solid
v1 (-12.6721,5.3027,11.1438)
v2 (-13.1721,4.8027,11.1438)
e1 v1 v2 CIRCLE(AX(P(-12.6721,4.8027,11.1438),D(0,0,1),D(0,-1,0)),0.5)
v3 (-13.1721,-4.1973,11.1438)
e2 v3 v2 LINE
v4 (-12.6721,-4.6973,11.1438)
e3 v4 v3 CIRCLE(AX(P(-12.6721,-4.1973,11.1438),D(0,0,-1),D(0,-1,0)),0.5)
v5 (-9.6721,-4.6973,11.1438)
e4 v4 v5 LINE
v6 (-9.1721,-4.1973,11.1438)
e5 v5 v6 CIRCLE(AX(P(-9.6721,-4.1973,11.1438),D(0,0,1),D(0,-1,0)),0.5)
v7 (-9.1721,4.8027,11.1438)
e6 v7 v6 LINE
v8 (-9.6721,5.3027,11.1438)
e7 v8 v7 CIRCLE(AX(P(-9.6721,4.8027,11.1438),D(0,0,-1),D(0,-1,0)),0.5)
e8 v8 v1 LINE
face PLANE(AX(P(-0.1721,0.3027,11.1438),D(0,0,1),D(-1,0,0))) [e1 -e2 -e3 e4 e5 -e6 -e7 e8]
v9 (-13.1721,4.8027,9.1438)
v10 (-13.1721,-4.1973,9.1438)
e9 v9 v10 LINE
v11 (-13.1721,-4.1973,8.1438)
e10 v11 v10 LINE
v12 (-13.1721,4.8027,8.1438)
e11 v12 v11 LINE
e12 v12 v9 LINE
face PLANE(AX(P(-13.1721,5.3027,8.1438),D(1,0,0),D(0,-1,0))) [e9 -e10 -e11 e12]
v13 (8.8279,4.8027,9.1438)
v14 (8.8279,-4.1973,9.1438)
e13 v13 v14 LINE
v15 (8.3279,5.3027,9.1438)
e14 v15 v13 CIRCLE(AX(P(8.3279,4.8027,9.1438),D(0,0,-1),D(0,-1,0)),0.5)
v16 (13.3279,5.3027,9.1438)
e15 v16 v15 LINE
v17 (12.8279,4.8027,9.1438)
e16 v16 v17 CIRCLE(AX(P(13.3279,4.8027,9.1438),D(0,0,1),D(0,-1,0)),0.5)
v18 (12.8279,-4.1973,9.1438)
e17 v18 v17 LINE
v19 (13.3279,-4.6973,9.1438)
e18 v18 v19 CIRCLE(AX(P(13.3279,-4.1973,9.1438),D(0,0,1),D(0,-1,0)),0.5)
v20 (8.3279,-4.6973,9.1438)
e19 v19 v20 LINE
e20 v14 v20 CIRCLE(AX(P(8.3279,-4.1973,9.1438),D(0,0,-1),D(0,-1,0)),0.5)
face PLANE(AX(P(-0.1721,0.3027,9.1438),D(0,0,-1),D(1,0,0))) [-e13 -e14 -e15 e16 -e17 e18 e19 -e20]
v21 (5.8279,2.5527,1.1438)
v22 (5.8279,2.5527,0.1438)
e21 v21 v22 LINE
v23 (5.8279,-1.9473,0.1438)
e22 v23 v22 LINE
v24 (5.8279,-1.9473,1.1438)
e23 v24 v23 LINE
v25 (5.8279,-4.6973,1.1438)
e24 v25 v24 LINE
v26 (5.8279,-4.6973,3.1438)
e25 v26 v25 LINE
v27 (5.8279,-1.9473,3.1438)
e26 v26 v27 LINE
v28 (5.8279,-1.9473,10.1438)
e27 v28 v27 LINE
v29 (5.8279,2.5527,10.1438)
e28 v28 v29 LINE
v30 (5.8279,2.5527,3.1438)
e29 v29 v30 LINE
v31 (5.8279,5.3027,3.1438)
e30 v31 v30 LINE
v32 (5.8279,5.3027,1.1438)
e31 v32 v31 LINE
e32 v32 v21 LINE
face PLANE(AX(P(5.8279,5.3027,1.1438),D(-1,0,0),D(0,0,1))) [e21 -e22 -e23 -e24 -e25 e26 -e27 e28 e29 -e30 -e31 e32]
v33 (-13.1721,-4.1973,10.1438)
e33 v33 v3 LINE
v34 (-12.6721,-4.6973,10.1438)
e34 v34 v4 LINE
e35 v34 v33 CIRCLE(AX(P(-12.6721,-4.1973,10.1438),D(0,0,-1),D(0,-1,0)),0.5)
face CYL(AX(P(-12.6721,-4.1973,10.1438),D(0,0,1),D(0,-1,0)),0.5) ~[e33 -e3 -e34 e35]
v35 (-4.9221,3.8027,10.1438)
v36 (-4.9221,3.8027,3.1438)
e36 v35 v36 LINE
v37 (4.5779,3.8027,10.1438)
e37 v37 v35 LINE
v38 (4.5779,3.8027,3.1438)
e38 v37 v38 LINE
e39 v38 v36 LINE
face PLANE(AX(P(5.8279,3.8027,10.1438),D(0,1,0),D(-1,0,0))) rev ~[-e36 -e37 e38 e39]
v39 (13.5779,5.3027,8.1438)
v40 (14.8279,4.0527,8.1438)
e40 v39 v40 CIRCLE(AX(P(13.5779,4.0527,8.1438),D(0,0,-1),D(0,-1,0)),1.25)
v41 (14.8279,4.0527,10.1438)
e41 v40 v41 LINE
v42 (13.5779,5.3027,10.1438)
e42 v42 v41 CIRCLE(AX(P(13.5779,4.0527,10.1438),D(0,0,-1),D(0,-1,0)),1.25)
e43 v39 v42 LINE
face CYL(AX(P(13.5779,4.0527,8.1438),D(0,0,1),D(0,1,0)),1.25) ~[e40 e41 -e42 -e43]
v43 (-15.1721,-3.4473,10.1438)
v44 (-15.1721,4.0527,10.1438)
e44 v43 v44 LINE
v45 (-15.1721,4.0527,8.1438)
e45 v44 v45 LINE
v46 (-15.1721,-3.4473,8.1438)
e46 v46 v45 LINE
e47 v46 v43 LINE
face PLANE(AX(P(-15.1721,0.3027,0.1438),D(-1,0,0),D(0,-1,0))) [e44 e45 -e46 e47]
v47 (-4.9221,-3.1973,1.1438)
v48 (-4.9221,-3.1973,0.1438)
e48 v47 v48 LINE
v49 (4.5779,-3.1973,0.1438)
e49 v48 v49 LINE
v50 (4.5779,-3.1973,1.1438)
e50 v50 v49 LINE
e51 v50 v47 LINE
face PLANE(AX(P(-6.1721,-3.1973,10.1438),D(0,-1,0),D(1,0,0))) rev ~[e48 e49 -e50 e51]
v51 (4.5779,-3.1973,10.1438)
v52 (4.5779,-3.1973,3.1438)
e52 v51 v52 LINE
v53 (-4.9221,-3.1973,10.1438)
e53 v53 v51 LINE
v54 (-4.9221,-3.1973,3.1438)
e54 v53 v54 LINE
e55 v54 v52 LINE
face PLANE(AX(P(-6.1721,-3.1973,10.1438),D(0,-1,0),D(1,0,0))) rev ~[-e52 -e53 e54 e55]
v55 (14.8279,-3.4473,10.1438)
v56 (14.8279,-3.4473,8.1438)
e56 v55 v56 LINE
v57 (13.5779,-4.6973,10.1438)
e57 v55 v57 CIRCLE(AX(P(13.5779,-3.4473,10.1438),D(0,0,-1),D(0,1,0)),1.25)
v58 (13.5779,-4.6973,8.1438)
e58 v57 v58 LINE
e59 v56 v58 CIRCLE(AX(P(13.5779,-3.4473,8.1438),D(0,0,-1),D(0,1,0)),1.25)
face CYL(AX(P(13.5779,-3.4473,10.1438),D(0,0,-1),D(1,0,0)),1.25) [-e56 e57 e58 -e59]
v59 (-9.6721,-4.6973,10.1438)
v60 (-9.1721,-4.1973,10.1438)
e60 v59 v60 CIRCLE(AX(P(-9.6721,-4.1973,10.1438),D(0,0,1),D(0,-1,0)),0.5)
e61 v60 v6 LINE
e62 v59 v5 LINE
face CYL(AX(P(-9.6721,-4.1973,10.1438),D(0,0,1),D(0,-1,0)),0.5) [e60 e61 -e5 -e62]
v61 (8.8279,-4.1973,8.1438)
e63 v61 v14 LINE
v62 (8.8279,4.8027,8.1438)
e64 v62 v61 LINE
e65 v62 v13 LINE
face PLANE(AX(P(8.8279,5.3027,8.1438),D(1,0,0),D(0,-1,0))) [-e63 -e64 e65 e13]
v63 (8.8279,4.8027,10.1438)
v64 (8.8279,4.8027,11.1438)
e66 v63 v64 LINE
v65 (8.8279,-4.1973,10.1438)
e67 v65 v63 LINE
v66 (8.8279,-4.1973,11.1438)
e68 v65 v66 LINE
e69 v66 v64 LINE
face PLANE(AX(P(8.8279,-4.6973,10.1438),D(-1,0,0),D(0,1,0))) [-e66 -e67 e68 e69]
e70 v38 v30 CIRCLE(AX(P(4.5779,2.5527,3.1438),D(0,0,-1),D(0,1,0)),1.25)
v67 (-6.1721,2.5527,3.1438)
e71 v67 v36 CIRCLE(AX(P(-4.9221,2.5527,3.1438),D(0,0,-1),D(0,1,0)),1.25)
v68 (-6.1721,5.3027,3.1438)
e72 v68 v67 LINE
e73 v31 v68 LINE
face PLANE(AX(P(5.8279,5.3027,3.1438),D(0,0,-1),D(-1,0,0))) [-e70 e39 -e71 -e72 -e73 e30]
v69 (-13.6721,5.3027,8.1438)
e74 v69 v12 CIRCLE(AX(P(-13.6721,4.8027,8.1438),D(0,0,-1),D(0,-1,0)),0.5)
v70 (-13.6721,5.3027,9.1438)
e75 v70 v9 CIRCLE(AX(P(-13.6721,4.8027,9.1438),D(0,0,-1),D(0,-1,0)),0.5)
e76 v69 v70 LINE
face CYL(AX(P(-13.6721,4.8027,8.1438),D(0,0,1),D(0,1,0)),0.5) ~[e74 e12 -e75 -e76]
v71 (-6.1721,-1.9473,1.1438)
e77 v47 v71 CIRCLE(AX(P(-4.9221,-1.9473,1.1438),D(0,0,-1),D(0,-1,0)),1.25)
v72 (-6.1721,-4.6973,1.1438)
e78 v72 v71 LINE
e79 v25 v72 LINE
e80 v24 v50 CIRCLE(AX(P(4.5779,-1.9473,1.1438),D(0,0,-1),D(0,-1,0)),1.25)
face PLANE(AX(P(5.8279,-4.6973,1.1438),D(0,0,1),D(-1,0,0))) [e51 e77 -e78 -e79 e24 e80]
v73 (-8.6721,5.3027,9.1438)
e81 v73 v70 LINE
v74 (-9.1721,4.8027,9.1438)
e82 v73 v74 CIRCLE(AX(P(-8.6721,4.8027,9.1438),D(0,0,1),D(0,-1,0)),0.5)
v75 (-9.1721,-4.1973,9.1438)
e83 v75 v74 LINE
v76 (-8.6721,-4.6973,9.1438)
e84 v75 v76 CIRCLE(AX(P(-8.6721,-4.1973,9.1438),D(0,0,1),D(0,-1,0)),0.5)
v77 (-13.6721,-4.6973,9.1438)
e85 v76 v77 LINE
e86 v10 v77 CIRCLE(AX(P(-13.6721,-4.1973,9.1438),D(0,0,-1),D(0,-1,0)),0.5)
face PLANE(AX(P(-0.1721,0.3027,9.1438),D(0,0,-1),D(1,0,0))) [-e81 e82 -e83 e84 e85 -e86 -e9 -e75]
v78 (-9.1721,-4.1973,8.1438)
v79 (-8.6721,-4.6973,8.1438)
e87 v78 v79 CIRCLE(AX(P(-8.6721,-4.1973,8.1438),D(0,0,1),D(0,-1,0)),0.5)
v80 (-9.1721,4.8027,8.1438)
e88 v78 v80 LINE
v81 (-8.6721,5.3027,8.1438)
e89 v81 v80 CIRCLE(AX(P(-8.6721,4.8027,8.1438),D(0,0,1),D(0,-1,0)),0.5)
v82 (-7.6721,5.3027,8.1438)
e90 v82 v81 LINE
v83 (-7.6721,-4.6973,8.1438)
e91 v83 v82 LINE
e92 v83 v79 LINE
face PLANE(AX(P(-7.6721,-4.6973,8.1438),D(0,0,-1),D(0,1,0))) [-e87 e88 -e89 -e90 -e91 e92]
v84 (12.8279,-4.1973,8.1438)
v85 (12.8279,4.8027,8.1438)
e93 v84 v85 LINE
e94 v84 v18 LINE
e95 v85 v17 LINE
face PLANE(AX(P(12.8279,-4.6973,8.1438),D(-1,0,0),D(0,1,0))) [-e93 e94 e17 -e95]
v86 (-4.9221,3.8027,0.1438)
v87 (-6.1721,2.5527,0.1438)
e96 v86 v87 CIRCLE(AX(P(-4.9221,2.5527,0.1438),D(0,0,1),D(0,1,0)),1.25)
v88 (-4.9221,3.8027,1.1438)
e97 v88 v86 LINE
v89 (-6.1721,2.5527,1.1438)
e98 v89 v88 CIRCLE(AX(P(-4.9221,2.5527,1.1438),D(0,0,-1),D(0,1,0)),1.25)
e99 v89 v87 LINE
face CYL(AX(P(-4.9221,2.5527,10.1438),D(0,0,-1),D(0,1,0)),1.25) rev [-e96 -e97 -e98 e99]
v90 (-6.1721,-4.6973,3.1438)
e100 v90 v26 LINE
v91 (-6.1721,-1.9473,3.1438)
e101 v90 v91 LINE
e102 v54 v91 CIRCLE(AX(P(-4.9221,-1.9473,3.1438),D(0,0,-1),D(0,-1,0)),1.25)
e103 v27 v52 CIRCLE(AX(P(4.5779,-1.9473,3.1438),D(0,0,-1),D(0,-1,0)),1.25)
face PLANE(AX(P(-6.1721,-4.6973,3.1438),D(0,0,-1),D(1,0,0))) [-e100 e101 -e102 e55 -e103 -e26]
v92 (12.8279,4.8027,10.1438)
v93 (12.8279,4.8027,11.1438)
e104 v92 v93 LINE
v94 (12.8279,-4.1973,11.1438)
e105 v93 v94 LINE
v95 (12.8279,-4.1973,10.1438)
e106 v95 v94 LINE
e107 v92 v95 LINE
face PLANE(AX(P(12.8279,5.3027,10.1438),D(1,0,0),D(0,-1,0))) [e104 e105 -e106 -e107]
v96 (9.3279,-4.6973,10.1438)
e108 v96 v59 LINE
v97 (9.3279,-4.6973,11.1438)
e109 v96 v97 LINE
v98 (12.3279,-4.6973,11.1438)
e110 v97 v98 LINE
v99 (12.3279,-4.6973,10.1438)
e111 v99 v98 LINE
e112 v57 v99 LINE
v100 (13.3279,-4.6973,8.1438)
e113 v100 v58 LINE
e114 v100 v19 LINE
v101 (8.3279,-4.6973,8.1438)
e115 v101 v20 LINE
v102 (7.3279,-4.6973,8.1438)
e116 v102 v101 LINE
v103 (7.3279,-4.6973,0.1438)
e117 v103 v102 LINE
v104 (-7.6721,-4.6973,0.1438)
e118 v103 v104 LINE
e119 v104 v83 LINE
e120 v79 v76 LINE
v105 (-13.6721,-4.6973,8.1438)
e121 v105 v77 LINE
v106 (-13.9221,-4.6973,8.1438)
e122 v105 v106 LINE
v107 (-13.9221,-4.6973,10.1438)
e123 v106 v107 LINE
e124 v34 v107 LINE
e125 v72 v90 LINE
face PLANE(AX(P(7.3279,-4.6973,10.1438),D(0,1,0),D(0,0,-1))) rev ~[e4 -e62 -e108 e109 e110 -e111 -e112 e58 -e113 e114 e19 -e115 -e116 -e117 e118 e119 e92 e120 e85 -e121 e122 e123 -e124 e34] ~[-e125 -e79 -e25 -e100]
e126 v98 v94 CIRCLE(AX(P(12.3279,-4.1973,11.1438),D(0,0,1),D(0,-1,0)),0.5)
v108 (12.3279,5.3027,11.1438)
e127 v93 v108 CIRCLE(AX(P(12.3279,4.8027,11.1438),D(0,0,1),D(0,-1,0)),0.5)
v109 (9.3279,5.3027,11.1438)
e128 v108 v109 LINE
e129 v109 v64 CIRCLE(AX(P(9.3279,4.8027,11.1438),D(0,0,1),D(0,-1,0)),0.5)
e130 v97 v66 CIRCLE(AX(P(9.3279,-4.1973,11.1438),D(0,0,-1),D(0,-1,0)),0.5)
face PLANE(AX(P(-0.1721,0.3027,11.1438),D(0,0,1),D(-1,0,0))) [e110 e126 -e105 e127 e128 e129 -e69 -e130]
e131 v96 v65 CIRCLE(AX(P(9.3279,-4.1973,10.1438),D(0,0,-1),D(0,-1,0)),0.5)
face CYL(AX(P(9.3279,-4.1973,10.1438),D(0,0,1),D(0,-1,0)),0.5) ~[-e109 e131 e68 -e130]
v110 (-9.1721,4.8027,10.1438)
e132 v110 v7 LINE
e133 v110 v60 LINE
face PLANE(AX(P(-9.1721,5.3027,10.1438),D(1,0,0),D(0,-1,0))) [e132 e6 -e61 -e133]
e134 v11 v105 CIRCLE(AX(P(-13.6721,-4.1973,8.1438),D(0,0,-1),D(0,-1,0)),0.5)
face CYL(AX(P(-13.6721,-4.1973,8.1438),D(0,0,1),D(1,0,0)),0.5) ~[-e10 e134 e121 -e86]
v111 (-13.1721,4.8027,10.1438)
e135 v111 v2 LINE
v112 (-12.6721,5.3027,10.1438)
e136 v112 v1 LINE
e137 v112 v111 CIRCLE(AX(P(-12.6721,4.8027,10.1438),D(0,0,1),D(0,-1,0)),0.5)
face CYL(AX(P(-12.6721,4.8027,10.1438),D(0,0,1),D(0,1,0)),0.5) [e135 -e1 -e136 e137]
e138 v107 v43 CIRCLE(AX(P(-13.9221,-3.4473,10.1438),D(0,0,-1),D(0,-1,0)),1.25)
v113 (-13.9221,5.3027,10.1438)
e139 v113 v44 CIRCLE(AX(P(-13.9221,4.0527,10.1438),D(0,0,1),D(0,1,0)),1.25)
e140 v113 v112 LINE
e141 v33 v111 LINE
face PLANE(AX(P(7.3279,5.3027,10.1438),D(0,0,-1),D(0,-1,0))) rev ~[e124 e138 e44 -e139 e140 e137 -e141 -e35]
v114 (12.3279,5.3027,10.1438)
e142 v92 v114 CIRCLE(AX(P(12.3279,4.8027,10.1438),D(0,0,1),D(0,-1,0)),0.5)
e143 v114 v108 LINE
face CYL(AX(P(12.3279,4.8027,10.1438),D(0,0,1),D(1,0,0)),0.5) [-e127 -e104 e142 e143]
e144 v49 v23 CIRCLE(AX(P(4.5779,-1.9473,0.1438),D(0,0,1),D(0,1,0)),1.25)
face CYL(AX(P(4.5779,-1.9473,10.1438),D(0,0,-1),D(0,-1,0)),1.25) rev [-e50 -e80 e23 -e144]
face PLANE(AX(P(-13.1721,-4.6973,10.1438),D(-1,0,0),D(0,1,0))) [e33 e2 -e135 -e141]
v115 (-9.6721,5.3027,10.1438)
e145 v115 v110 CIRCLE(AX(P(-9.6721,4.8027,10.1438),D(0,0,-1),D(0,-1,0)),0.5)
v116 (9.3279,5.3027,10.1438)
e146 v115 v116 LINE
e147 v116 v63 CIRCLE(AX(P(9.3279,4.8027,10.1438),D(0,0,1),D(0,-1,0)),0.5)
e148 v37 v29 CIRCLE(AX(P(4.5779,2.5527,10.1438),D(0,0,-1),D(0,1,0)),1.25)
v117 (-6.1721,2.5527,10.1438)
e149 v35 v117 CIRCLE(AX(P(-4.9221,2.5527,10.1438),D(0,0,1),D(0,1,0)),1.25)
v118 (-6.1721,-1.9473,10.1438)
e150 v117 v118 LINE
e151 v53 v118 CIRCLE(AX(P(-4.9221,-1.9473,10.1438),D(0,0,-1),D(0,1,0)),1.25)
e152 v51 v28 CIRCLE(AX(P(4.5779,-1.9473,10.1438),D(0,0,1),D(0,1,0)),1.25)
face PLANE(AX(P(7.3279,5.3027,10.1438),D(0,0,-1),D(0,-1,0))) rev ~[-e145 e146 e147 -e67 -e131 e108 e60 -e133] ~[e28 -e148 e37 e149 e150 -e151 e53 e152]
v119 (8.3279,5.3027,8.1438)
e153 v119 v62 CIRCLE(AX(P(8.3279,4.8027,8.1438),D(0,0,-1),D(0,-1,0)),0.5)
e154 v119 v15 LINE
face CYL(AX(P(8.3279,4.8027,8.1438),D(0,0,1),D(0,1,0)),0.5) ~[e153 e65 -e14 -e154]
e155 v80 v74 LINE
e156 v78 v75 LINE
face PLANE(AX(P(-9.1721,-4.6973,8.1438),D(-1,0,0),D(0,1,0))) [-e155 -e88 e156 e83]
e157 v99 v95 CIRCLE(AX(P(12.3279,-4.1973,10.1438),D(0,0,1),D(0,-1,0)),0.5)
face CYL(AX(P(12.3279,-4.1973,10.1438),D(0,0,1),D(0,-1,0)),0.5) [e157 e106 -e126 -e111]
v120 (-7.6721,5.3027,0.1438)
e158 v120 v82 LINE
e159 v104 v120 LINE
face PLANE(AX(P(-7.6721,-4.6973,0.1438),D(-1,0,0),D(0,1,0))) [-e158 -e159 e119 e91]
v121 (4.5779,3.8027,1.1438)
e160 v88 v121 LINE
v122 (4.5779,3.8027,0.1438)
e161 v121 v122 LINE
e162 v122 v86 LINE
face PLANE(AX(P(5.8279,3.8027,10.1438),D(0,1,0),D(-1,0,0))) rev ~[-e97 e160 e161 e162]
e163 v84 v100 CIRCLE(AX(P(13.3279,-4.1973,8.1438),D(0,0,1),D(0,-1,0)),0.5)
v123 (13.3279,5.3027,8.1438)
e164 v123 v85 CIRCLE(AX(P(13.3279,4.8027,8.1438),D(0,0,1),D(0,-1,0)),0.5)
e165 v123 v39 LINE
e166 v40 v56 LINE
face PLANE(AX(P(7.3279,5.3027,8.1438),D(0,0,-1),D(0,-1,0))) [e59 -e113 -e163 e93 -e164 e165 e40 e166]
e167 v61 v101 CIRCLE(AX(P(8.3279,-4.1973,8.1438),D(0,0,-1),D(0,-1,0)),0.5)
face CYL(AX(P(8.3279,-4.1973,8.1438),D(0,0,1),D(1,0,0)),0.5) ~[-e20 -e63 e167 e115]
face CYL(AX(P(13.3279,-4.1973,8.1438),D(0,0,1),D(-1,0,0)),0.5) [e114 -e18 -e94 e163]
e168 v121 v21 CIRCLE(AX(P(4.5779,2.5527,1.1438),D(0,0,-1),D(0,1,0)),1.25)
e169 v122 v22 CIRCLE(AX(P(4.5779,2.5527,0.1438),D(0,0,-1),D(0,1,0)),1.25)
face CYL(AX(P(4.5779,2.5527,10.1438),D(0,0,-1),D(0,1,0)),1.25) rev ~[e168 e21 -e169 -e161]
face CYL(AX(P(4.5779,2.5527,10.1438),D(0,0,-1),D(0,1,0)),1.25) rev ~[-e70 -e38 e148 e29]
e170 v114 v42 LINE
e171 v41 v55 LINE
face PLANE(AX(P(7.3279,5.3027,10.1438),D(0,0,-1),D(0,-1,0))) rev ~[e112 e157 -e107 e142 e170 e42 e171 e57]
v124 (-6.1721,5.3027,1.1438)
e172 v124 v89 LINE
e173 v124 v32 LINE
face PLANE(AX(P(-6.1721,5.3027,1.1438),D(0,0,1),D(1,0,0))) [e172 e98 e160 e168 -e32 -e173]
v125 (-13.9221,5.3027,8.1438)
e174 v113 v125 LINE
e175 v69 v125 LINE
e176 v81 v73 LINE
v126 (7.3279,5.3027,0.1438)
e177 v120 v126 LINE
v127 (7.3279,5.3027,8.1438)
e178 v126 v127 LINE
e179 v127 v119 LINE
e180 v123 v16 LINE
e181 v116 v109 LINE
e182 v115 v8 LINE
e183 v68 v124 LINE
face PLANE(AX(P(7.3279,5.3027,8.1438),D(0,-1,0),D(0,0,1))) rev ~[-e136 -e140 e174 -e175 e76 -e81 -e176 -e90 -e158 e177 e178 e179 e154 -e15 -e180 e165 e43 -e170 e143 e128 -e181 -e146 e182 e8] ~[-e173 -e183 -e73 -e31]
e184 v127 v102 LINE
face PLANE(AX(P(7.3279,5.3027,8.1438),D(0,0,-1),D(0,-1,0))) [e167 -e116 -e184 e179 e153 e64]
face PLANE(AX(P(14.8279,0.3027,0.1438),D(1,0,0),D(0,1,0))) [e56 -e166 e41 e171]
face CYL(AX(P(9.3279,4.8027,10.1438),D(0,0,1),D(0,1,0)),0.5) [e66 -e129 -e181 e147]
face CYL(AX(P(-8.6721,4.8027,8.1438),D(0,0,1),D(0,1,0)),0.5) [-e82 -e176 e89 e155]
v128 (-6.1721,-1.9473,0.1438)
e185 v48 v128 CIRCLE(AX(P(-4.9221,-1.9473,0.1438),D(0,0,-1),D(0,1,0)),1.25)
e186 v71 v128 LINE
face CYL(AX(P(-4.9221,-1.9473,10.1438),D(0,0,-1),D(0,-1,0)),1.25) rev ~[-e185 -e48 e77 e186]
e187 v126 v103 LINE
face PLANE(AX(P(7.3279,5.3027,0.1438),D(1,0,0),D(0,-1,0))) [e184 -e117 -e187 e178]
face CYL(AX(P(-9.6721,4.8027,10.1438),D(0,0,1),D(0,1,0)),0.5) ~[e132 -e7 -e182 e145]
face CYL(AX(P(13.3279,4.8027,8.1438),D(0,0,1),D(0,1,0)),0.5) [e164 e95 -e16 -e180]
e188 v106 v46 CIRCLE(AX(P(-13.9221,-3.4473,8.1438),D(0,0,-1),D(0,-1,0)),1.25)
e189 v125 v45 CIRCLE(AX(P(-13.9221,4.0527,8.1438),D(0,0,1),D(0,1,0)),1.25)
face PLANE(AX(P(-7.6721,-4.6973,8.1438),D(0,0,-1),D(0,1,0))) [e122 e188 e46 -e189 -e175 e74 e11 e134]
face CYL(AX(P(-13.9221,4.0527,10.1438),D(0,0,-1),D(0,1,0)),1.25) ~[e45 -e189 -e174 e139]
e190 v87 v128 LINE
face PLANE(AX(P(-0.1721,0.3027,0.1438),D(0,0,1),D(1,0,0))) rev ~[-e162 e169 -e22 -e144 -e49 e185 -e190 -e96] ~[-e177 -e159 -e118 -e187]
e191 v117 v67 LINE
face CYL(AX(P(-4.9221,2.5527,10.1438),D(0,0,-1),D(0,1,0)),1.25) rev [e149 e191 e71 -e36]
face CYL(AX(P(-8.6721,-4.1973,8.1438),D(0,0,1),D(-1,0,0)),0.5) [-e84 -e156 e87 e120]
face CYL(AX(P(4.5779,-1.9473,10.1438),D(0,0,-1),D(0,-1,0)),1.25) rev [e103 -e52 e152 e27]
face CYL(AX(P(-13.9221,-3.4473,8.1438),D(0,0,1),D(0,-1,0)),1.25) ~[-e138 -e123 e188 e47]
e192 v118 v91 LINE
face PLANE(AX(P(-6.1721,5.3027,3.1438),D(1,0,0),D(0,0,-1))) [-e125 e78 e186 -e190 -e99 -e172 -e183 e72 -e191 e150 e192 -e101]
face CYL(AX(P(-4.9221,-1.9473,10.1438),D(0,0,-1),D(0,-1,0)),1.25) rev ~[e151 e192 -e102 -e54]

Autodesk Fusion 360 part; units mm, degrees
sketch "Sketch1" plane through (0, 0, 0) normal (0, 0, 1) x (1, 0, 0) in component "Headpost"
  line L0 (7.5, -5) -> (-7.5, -5)
  line L1 (-7.5, -5) -> (-7.5, 5)
  line L2 (-7.5, 5) -> (7.5, 5)
  line L3 (7.5, 5) -> (7.5, -5)
  line L4 (7.5, -5) -> (-7.5, 5) construction
  line L5 (-7.5, -5) -> (7.5, 5) construction
  dimension "d1" = 15
  dimension "d2" = 10
extrude "Extrude1" add sketch "Sketch1" along normal blind 10 in component "Headpost"
sketch "Sketch2" plane through (0, 0, 10) normal (0, 0, 1) x (-1, 0, 0) in component "Headpost"
  line L0 (-7.5, -5) -> (7.5, -5)
  line L1 (7.5, -5) -> (7.5, 5)
  line L2 (7.5, 5) -> (-7.5, 5)
  line L3 (-7.5, 5) -> (-7.5, -5)
  line L4 (6, 3.5) -> (-6, 3.5)
  line L5 (-6, 3.5) -> (-6, -3.5)
  line L6 (-6, -3.5) -> (6, -3.5)
  line L7 (6, -3.5) -> (6, 3.5)
  dimension "d5" = -1.5
extrude "Extrude2" cut sketch "Sketch2" against normal blind 15 contours L4 L5 L6 L7 in component "Headpost"
sketch "Sketch3" plane through (-7.5, 0, 0) normal (-1, 0, 0) x (0, -1, 0) in component "Headpost"
  line L0 (-5, 0) -> (5, 0)
  line L1 (5, 0) -> (5, 10)
  line L2 (5, 10) -> (-5, 10)
  line L3 (-5, 10) -> (-5, 0)
  line L4 (-5, 10) -> (5, 10)
  line L5 (5, 10) -> (5, 8)
  line L6 (5, 8) -> (-5, 8)
  line L7 (-5, 8) -> (-5, 10)
  dimension "d8" = 10
  dimension "d9" = 2
extrude "Extrude3" add sketch "Sketch3" along normal blind 7.5 contours L1 L2 L3 L4 L5 L6 L7 in component "Headpost"
sketch "Sketch4" plane through (7.5, 0, 0) normal (1, 0, 0) x (0, 1, 0) in component "Headpost"
  line L0 (-5, 0) -> (5, 0)
  line L1 (5, 0) -> (5, 10)
  line L2 (5, 10) -> (-5, 10)
  line L3 (-5, 10) -> (-5, 0)
  line L4 (-5, 10) -> (5, 10)
  line L5 (5, 10) -> (5, 8)
  line L6 (5, 8) -> (-5, 8)
  line L7 (-5, 8) -> (-5, 10)
  dimension "d12" = 2
extrude "Extrude4" add sketch "Sketch4" along normal blind 7.5 contours L1 L2 L3 L4 L5 L6 L7 in component "Headpost"
fillet "Fillet1" radius 1.25 2 edges at (6, -3.5, 5) (6, 3.5, 5) in component "Headpost"
fillet "Fillet2" radius 1.25 2 edges at (-6, 3.5, 5) (-6, -3.5, 5) in component "Headpost"
fillet "Fillet3" radius 1.25 4 edges at (15, -5, 9) (15, 5, 9) (-15, 5, 9) (-15, -5, 9) in component "Headpost"
sketch "Sketch5" plane through (0, 0, 10) normal (0, 0, 1) x (-1, 0, 0) in component "Headpost"
  arc A0 (15, 3.75) -> (13.75, 5) centre (13.75, 3.75) ccw
  line L0 (13.75, 5) -> (-13.75, 5)
  arc A1 (-13.75, 5) -> (-15, 3.75) centre (-13.75, 3.75) ccw
  line L1 (-15, 3.75) -> (-15, -3.75)
  arc A2 (-15, -3.75) -> (-13.75, -5) centre (-13.75, -3.75) ccw
  line L2 (-13.75, -5) -> (13.75, -5)
  arc A3 (13.75, -5) -> (15, -3.75) centre (13.75, -3.75) ccw
  line L3 (15, -3.75) -> (15, 3.75)
  line L4 (-4.75, 3.5) -> (4.75, 3.5)
  arc A4 (6, 2.25) -> (4.75, 3.5) centre (4.75, 2.25) ccw
  line L5 (6, 2.25) -> (6, -2.25)
  arc A5 (4.75, -3.5) -> (6, -2.25) centre (4.75, -2.25) ccw
  line L6 (4.75, -3.5) -> (-4.75, -3.5)
  arc A6 (-6, -2.25) -> (-4.75, -3.5) centre (-4.75, -2.25) ccw
  line L7 (-6, -2.25) -> (-6, 2.25)
  arc A7 (-4.75, 3.5) -> (-6, 2.25) centre (-4.75, 2.25) ccw
  line L8 (13, -5) -> (9, -5)
  line L9 (9, -5) -> (9, 5)
  line L10 (9, 5) -> (13, 5)
  line L11 (13, 5) -> (13, -5)
  line L12 (-9, -5) -> (-13, -5)
  line L13 (-13, -5) -> (-13, 5)
  line L14 (-13, 5) -> (-9, 5)
  line L15 (-9, 5) -> (-9, -5)
  dimension "d21" = 4
  dimension "d22" = 10
  dimension "d23" = 3
  dimension "d24" = 4
  dimension "d25" = 10
  dimension "d26" = 3
extrude "Extrude5" add sketch "Sketch5" along normal blind 1 contours L0 L2 L8 L9 L10 L11 in component "Headpost"
sketch "Sketch6" plane through (0, 0, 10) normal (0, 0, 1) x (-1, 0, 0) in component "Headpost"
  line L0 (-4.75, 3.5) -> (4.75, 3.5)
  arc A0 (6, 2.25) -> (4.75, 3.5) centre (4.75, 2.25) ccw
  line L1 (6, 2.25) -> (6, -2.25)
  arc A1 (4.75, -3.5) -> (6, -2.25) centre (4.75, -2.25) ccw
  line L2 (4.75, -3.5) -> (-4.75, -3.5)
  arc A2 (-6, -2.25) -> (-4.75, -3.5) centre (-4.75, -2.25) ccw
  line L3 (-6, -2.25) -> (-6, 2.25)
  arc A3 (-4.75, 3.5) -> (-6, 2.25) centre (-4.75, 2.25) ccw
  line L4 (9, -5) -> (9, 5)
  line L5 (9, 5) -> (-13.75, 5)
  arc A4 (-13.75, 5) -> (-15, 3.75) centre (-13.75, 3.75) ccw
  line L6 (-15, 3.75) -> (-15, -3.75)
  arc A5 (-15, -3.75) -> (-13.75, -5) centre (-13.75, -3.75) ccw
  line L7 (-13.75, -5) -> (9, -5)
  line L8 (-9, -5) -> (-13, -5)
  line L9 (-13, -5) -> (-13, 5)
  line L10 (-13, 5) -> (-9, 5)
  line L11 (-9, 5) -> (-9, -5)
  dimension "d29" = 4
  dimension "d30" = 10
  dimension "d31" = 3
extrude "Extrude6" add sketch "Sketch6" along normal blind 1 contours L5 L7 L8 L9 L10 L11 in component "Headpost"
fillet "Fillet4" radius 0.5 2 edges at (-13, -5, 10.5) (-9, -5, 10.5) in component "Headpost"
fillet "Fillet5" radius 0.5 2 edges at (9, -5, 10.5) (13, -5, 10.5) in component "Headpost"
fillet "Fillet6" radius 0.5 2 edges at (13, 5, 10.5) (9, 5, 10.5) in component "Headpost"
fillet "Fillet7" radius 0.5 2 edges at (-9, 5, 10.5) (-13, 5, 10.5) in component "Headpost"
sketch "Sketch7" plane through (0, 5, 0) normal (0, 1, 0) x (-1, 0, 0) in component "Headpost"
  line L0 (13.75, 10) -> (12.5, 10)
  line L1 (12.5, 10) -> (12.5, 11)
  line L2 (12.5, 11) -> (9.5, 11)
  line L3 (9.5, 11) -> (9.5, 10)
  line L4 (9.5, 10) -> (-9.5, 10)
  line L5 (-9.5, 10) -> (-9.5, 11)
  line L6 (-9.5, 11) -> (-12.5, 11)
  line L7 (-12.5, 11) -> (-12.5, 10)
  line L8 (-12.5, 10) -> (-13.75, 10)
  line L9 (-13.75, 10) -> (-13.75, 8)
  line L10 (-13.75, 8) -> (-7.5, 8)
  line L11 (-7.5, 8) -> (-7.5, 0)
  line L12 (-7.5, 0) -> (7.5, 0)
  line L13 (7.5, 0) -> (7.5, 8)
  line L14 (7.5, 8) -> (13.75, 8)
  line L15 (13.75, 8) -> (13.75, 10)
  line L16 (-6, 3) -> (6, 3)
  line L17 (6, 3) -> (6, 1)
  line L18 (6, 1) -> (-6, 1)
  line L19 (-6, 1) -> (-6, 3)
  dimension "d42" = 2
extrude "Extrude7" cut sketch "Sketch7" against normal blind 3 contours L16 L17 L18 L19 in component "Headpost"
sketch "Sketch8" plane through (0, -5, 0) normal (0, -1, 0) x (1, 0, 0) in component "Headpost"
  line L0 (13.75, 10) -> (12.5, 10)
  line L1 (12.5, 10) -> (12.5, 11)
  line L2 (12.5, 11) -> (9.5, 11)
  line L3 (9.5, 11) -> (9.5, 10)
  line L4 (9.5, 10) -> (-9.5, 10)
  line L5 (-9.5, 10) -> (-9.5, 11)
  line L6 (-9.5, 11) -> (-12.5, 11)
  line L7 (-12.5, 11) -> (-12.5, 10)
  line L8 (-12.5, 10) -> (-13.75, 10)
  line L9 (-13.75, 10) -> (-13.75, 8)
  line L10 (-13.75, 8) -> (-7.5, 8)
  line L11 (-7.5, 8) -> (-7.5, 0)
  line L12 (-7.5, 0) -> (7.5, 0)
  line L13 (7.5, 0) -> (7.5, 8)
  line L14 (7.5, 8) -> (13.75, 8)
  line L15 (13.75, 8) -> (13.75, 10)
  line L16 (-6, 3) -> (6, 3)
  line L17 (6, 3) -> (6, 1)
  line L18 (6, 1) -> (-6, 1)
  line L19 (-6, 1) -> (-6, 3)
  dimension "d45" = 2
extrude "Extrude8" cut sketch "Sketch8" against normal blind 3 contours L16 L17 L18 L19 in component "Headpost"
sketch "Sketch11" plane through (0, 0, 8) normal (0, 0, -1) x (1, 0, 0) in component "Headpost"
  arc A0 (13.75, -5) -> (15, -3.75) centre (13.75, -3.75) ccw
  line L0 (15, -3.75) -> (15, 3.75)
  arc A1 (15, 3.75) -> (13.75, 5) centre (13.75, 3.75) ccw
  line L1 (13.75, 5) -> (7.5, 5)
  line L2 (7.5, 5) -> (7.5, -5)
  line L3 (7.5, -5) -> (13.75, -5)
  line L4 (-13, 5) -> (-9, 5)
  line L5 (-9, 5) -> (-9, -5)
  line L6 (-9, -5) -> (-13, -5)
  line L7 (-13, -5) -> (-13, 5)
  line L8 (-15, -3.75) -> (-15, 3.75)
  dimension "d48" = 4
  dimension "d49" = 10
  dimension "d50" = 2
extrude "Extrude9" cut sketch "Sketch11" against normal blind 1 contours L4 L5 L6 L7 in component "Headpost"
fillet "Fillet8" radius 0.5 4 edges at (-9, 5, 8.5) (-13, 5, 8.5) (-13, -5, 8.5) (-9, -5, 8.5) in component "Headpost"
sketch "Sketch12" plane through (0, 0, 8) normal (0, 0, -1) x (1, 0, 0) in component "Headpost"
  arc A0 (13.75, -5) -> (15, -3.75) centre (13.75, -3.75) ccw
  line L0 (15, -3.75) -> (15, 3.75)
  arc A1 (15, 3.75) -> (13.75, 5) centre (13.75, 3.75) ccw
  line L1 (13.75, 5) -> (7.5, 5)
  line L2 (7.5, 5) -> (7.5, -5)
  line L3 (7.5, -5) -> (13.75, -5)
  line L4 (9, 5) -> (13, 5)
  line L5 (13, 5) -> (13, -5)
  line L6 (13, -5) -> (9, -5)
  line L7 (9, -5) -> (9, 5)
  dimension "d55" = 4
  dimension "d56" = 10
  dimension "d57" = 2
extrude "Extrude10" cut sketch "Sketch12" against normal blind 1 contours L1 L3 L4 L5 L6 L7 in component "Headpost"
fillet "Fillet9" radius 0.5 4 edges at (13, 5, 8.5) (9, 5, 8.5) (9, -5, 8.5) (13, -5, 8.5) in component "Headpost"
sketch "Sketch9" plane through (0, 0, 0) normal (1, 0, 0) x (0, 1, 0) in component "Headpost"
component "Headpost" placed x (1, 0, 0) y (0, 1, 0) z (0, 0, 1) at (-0.1721, 0.3027, 0.1438)
